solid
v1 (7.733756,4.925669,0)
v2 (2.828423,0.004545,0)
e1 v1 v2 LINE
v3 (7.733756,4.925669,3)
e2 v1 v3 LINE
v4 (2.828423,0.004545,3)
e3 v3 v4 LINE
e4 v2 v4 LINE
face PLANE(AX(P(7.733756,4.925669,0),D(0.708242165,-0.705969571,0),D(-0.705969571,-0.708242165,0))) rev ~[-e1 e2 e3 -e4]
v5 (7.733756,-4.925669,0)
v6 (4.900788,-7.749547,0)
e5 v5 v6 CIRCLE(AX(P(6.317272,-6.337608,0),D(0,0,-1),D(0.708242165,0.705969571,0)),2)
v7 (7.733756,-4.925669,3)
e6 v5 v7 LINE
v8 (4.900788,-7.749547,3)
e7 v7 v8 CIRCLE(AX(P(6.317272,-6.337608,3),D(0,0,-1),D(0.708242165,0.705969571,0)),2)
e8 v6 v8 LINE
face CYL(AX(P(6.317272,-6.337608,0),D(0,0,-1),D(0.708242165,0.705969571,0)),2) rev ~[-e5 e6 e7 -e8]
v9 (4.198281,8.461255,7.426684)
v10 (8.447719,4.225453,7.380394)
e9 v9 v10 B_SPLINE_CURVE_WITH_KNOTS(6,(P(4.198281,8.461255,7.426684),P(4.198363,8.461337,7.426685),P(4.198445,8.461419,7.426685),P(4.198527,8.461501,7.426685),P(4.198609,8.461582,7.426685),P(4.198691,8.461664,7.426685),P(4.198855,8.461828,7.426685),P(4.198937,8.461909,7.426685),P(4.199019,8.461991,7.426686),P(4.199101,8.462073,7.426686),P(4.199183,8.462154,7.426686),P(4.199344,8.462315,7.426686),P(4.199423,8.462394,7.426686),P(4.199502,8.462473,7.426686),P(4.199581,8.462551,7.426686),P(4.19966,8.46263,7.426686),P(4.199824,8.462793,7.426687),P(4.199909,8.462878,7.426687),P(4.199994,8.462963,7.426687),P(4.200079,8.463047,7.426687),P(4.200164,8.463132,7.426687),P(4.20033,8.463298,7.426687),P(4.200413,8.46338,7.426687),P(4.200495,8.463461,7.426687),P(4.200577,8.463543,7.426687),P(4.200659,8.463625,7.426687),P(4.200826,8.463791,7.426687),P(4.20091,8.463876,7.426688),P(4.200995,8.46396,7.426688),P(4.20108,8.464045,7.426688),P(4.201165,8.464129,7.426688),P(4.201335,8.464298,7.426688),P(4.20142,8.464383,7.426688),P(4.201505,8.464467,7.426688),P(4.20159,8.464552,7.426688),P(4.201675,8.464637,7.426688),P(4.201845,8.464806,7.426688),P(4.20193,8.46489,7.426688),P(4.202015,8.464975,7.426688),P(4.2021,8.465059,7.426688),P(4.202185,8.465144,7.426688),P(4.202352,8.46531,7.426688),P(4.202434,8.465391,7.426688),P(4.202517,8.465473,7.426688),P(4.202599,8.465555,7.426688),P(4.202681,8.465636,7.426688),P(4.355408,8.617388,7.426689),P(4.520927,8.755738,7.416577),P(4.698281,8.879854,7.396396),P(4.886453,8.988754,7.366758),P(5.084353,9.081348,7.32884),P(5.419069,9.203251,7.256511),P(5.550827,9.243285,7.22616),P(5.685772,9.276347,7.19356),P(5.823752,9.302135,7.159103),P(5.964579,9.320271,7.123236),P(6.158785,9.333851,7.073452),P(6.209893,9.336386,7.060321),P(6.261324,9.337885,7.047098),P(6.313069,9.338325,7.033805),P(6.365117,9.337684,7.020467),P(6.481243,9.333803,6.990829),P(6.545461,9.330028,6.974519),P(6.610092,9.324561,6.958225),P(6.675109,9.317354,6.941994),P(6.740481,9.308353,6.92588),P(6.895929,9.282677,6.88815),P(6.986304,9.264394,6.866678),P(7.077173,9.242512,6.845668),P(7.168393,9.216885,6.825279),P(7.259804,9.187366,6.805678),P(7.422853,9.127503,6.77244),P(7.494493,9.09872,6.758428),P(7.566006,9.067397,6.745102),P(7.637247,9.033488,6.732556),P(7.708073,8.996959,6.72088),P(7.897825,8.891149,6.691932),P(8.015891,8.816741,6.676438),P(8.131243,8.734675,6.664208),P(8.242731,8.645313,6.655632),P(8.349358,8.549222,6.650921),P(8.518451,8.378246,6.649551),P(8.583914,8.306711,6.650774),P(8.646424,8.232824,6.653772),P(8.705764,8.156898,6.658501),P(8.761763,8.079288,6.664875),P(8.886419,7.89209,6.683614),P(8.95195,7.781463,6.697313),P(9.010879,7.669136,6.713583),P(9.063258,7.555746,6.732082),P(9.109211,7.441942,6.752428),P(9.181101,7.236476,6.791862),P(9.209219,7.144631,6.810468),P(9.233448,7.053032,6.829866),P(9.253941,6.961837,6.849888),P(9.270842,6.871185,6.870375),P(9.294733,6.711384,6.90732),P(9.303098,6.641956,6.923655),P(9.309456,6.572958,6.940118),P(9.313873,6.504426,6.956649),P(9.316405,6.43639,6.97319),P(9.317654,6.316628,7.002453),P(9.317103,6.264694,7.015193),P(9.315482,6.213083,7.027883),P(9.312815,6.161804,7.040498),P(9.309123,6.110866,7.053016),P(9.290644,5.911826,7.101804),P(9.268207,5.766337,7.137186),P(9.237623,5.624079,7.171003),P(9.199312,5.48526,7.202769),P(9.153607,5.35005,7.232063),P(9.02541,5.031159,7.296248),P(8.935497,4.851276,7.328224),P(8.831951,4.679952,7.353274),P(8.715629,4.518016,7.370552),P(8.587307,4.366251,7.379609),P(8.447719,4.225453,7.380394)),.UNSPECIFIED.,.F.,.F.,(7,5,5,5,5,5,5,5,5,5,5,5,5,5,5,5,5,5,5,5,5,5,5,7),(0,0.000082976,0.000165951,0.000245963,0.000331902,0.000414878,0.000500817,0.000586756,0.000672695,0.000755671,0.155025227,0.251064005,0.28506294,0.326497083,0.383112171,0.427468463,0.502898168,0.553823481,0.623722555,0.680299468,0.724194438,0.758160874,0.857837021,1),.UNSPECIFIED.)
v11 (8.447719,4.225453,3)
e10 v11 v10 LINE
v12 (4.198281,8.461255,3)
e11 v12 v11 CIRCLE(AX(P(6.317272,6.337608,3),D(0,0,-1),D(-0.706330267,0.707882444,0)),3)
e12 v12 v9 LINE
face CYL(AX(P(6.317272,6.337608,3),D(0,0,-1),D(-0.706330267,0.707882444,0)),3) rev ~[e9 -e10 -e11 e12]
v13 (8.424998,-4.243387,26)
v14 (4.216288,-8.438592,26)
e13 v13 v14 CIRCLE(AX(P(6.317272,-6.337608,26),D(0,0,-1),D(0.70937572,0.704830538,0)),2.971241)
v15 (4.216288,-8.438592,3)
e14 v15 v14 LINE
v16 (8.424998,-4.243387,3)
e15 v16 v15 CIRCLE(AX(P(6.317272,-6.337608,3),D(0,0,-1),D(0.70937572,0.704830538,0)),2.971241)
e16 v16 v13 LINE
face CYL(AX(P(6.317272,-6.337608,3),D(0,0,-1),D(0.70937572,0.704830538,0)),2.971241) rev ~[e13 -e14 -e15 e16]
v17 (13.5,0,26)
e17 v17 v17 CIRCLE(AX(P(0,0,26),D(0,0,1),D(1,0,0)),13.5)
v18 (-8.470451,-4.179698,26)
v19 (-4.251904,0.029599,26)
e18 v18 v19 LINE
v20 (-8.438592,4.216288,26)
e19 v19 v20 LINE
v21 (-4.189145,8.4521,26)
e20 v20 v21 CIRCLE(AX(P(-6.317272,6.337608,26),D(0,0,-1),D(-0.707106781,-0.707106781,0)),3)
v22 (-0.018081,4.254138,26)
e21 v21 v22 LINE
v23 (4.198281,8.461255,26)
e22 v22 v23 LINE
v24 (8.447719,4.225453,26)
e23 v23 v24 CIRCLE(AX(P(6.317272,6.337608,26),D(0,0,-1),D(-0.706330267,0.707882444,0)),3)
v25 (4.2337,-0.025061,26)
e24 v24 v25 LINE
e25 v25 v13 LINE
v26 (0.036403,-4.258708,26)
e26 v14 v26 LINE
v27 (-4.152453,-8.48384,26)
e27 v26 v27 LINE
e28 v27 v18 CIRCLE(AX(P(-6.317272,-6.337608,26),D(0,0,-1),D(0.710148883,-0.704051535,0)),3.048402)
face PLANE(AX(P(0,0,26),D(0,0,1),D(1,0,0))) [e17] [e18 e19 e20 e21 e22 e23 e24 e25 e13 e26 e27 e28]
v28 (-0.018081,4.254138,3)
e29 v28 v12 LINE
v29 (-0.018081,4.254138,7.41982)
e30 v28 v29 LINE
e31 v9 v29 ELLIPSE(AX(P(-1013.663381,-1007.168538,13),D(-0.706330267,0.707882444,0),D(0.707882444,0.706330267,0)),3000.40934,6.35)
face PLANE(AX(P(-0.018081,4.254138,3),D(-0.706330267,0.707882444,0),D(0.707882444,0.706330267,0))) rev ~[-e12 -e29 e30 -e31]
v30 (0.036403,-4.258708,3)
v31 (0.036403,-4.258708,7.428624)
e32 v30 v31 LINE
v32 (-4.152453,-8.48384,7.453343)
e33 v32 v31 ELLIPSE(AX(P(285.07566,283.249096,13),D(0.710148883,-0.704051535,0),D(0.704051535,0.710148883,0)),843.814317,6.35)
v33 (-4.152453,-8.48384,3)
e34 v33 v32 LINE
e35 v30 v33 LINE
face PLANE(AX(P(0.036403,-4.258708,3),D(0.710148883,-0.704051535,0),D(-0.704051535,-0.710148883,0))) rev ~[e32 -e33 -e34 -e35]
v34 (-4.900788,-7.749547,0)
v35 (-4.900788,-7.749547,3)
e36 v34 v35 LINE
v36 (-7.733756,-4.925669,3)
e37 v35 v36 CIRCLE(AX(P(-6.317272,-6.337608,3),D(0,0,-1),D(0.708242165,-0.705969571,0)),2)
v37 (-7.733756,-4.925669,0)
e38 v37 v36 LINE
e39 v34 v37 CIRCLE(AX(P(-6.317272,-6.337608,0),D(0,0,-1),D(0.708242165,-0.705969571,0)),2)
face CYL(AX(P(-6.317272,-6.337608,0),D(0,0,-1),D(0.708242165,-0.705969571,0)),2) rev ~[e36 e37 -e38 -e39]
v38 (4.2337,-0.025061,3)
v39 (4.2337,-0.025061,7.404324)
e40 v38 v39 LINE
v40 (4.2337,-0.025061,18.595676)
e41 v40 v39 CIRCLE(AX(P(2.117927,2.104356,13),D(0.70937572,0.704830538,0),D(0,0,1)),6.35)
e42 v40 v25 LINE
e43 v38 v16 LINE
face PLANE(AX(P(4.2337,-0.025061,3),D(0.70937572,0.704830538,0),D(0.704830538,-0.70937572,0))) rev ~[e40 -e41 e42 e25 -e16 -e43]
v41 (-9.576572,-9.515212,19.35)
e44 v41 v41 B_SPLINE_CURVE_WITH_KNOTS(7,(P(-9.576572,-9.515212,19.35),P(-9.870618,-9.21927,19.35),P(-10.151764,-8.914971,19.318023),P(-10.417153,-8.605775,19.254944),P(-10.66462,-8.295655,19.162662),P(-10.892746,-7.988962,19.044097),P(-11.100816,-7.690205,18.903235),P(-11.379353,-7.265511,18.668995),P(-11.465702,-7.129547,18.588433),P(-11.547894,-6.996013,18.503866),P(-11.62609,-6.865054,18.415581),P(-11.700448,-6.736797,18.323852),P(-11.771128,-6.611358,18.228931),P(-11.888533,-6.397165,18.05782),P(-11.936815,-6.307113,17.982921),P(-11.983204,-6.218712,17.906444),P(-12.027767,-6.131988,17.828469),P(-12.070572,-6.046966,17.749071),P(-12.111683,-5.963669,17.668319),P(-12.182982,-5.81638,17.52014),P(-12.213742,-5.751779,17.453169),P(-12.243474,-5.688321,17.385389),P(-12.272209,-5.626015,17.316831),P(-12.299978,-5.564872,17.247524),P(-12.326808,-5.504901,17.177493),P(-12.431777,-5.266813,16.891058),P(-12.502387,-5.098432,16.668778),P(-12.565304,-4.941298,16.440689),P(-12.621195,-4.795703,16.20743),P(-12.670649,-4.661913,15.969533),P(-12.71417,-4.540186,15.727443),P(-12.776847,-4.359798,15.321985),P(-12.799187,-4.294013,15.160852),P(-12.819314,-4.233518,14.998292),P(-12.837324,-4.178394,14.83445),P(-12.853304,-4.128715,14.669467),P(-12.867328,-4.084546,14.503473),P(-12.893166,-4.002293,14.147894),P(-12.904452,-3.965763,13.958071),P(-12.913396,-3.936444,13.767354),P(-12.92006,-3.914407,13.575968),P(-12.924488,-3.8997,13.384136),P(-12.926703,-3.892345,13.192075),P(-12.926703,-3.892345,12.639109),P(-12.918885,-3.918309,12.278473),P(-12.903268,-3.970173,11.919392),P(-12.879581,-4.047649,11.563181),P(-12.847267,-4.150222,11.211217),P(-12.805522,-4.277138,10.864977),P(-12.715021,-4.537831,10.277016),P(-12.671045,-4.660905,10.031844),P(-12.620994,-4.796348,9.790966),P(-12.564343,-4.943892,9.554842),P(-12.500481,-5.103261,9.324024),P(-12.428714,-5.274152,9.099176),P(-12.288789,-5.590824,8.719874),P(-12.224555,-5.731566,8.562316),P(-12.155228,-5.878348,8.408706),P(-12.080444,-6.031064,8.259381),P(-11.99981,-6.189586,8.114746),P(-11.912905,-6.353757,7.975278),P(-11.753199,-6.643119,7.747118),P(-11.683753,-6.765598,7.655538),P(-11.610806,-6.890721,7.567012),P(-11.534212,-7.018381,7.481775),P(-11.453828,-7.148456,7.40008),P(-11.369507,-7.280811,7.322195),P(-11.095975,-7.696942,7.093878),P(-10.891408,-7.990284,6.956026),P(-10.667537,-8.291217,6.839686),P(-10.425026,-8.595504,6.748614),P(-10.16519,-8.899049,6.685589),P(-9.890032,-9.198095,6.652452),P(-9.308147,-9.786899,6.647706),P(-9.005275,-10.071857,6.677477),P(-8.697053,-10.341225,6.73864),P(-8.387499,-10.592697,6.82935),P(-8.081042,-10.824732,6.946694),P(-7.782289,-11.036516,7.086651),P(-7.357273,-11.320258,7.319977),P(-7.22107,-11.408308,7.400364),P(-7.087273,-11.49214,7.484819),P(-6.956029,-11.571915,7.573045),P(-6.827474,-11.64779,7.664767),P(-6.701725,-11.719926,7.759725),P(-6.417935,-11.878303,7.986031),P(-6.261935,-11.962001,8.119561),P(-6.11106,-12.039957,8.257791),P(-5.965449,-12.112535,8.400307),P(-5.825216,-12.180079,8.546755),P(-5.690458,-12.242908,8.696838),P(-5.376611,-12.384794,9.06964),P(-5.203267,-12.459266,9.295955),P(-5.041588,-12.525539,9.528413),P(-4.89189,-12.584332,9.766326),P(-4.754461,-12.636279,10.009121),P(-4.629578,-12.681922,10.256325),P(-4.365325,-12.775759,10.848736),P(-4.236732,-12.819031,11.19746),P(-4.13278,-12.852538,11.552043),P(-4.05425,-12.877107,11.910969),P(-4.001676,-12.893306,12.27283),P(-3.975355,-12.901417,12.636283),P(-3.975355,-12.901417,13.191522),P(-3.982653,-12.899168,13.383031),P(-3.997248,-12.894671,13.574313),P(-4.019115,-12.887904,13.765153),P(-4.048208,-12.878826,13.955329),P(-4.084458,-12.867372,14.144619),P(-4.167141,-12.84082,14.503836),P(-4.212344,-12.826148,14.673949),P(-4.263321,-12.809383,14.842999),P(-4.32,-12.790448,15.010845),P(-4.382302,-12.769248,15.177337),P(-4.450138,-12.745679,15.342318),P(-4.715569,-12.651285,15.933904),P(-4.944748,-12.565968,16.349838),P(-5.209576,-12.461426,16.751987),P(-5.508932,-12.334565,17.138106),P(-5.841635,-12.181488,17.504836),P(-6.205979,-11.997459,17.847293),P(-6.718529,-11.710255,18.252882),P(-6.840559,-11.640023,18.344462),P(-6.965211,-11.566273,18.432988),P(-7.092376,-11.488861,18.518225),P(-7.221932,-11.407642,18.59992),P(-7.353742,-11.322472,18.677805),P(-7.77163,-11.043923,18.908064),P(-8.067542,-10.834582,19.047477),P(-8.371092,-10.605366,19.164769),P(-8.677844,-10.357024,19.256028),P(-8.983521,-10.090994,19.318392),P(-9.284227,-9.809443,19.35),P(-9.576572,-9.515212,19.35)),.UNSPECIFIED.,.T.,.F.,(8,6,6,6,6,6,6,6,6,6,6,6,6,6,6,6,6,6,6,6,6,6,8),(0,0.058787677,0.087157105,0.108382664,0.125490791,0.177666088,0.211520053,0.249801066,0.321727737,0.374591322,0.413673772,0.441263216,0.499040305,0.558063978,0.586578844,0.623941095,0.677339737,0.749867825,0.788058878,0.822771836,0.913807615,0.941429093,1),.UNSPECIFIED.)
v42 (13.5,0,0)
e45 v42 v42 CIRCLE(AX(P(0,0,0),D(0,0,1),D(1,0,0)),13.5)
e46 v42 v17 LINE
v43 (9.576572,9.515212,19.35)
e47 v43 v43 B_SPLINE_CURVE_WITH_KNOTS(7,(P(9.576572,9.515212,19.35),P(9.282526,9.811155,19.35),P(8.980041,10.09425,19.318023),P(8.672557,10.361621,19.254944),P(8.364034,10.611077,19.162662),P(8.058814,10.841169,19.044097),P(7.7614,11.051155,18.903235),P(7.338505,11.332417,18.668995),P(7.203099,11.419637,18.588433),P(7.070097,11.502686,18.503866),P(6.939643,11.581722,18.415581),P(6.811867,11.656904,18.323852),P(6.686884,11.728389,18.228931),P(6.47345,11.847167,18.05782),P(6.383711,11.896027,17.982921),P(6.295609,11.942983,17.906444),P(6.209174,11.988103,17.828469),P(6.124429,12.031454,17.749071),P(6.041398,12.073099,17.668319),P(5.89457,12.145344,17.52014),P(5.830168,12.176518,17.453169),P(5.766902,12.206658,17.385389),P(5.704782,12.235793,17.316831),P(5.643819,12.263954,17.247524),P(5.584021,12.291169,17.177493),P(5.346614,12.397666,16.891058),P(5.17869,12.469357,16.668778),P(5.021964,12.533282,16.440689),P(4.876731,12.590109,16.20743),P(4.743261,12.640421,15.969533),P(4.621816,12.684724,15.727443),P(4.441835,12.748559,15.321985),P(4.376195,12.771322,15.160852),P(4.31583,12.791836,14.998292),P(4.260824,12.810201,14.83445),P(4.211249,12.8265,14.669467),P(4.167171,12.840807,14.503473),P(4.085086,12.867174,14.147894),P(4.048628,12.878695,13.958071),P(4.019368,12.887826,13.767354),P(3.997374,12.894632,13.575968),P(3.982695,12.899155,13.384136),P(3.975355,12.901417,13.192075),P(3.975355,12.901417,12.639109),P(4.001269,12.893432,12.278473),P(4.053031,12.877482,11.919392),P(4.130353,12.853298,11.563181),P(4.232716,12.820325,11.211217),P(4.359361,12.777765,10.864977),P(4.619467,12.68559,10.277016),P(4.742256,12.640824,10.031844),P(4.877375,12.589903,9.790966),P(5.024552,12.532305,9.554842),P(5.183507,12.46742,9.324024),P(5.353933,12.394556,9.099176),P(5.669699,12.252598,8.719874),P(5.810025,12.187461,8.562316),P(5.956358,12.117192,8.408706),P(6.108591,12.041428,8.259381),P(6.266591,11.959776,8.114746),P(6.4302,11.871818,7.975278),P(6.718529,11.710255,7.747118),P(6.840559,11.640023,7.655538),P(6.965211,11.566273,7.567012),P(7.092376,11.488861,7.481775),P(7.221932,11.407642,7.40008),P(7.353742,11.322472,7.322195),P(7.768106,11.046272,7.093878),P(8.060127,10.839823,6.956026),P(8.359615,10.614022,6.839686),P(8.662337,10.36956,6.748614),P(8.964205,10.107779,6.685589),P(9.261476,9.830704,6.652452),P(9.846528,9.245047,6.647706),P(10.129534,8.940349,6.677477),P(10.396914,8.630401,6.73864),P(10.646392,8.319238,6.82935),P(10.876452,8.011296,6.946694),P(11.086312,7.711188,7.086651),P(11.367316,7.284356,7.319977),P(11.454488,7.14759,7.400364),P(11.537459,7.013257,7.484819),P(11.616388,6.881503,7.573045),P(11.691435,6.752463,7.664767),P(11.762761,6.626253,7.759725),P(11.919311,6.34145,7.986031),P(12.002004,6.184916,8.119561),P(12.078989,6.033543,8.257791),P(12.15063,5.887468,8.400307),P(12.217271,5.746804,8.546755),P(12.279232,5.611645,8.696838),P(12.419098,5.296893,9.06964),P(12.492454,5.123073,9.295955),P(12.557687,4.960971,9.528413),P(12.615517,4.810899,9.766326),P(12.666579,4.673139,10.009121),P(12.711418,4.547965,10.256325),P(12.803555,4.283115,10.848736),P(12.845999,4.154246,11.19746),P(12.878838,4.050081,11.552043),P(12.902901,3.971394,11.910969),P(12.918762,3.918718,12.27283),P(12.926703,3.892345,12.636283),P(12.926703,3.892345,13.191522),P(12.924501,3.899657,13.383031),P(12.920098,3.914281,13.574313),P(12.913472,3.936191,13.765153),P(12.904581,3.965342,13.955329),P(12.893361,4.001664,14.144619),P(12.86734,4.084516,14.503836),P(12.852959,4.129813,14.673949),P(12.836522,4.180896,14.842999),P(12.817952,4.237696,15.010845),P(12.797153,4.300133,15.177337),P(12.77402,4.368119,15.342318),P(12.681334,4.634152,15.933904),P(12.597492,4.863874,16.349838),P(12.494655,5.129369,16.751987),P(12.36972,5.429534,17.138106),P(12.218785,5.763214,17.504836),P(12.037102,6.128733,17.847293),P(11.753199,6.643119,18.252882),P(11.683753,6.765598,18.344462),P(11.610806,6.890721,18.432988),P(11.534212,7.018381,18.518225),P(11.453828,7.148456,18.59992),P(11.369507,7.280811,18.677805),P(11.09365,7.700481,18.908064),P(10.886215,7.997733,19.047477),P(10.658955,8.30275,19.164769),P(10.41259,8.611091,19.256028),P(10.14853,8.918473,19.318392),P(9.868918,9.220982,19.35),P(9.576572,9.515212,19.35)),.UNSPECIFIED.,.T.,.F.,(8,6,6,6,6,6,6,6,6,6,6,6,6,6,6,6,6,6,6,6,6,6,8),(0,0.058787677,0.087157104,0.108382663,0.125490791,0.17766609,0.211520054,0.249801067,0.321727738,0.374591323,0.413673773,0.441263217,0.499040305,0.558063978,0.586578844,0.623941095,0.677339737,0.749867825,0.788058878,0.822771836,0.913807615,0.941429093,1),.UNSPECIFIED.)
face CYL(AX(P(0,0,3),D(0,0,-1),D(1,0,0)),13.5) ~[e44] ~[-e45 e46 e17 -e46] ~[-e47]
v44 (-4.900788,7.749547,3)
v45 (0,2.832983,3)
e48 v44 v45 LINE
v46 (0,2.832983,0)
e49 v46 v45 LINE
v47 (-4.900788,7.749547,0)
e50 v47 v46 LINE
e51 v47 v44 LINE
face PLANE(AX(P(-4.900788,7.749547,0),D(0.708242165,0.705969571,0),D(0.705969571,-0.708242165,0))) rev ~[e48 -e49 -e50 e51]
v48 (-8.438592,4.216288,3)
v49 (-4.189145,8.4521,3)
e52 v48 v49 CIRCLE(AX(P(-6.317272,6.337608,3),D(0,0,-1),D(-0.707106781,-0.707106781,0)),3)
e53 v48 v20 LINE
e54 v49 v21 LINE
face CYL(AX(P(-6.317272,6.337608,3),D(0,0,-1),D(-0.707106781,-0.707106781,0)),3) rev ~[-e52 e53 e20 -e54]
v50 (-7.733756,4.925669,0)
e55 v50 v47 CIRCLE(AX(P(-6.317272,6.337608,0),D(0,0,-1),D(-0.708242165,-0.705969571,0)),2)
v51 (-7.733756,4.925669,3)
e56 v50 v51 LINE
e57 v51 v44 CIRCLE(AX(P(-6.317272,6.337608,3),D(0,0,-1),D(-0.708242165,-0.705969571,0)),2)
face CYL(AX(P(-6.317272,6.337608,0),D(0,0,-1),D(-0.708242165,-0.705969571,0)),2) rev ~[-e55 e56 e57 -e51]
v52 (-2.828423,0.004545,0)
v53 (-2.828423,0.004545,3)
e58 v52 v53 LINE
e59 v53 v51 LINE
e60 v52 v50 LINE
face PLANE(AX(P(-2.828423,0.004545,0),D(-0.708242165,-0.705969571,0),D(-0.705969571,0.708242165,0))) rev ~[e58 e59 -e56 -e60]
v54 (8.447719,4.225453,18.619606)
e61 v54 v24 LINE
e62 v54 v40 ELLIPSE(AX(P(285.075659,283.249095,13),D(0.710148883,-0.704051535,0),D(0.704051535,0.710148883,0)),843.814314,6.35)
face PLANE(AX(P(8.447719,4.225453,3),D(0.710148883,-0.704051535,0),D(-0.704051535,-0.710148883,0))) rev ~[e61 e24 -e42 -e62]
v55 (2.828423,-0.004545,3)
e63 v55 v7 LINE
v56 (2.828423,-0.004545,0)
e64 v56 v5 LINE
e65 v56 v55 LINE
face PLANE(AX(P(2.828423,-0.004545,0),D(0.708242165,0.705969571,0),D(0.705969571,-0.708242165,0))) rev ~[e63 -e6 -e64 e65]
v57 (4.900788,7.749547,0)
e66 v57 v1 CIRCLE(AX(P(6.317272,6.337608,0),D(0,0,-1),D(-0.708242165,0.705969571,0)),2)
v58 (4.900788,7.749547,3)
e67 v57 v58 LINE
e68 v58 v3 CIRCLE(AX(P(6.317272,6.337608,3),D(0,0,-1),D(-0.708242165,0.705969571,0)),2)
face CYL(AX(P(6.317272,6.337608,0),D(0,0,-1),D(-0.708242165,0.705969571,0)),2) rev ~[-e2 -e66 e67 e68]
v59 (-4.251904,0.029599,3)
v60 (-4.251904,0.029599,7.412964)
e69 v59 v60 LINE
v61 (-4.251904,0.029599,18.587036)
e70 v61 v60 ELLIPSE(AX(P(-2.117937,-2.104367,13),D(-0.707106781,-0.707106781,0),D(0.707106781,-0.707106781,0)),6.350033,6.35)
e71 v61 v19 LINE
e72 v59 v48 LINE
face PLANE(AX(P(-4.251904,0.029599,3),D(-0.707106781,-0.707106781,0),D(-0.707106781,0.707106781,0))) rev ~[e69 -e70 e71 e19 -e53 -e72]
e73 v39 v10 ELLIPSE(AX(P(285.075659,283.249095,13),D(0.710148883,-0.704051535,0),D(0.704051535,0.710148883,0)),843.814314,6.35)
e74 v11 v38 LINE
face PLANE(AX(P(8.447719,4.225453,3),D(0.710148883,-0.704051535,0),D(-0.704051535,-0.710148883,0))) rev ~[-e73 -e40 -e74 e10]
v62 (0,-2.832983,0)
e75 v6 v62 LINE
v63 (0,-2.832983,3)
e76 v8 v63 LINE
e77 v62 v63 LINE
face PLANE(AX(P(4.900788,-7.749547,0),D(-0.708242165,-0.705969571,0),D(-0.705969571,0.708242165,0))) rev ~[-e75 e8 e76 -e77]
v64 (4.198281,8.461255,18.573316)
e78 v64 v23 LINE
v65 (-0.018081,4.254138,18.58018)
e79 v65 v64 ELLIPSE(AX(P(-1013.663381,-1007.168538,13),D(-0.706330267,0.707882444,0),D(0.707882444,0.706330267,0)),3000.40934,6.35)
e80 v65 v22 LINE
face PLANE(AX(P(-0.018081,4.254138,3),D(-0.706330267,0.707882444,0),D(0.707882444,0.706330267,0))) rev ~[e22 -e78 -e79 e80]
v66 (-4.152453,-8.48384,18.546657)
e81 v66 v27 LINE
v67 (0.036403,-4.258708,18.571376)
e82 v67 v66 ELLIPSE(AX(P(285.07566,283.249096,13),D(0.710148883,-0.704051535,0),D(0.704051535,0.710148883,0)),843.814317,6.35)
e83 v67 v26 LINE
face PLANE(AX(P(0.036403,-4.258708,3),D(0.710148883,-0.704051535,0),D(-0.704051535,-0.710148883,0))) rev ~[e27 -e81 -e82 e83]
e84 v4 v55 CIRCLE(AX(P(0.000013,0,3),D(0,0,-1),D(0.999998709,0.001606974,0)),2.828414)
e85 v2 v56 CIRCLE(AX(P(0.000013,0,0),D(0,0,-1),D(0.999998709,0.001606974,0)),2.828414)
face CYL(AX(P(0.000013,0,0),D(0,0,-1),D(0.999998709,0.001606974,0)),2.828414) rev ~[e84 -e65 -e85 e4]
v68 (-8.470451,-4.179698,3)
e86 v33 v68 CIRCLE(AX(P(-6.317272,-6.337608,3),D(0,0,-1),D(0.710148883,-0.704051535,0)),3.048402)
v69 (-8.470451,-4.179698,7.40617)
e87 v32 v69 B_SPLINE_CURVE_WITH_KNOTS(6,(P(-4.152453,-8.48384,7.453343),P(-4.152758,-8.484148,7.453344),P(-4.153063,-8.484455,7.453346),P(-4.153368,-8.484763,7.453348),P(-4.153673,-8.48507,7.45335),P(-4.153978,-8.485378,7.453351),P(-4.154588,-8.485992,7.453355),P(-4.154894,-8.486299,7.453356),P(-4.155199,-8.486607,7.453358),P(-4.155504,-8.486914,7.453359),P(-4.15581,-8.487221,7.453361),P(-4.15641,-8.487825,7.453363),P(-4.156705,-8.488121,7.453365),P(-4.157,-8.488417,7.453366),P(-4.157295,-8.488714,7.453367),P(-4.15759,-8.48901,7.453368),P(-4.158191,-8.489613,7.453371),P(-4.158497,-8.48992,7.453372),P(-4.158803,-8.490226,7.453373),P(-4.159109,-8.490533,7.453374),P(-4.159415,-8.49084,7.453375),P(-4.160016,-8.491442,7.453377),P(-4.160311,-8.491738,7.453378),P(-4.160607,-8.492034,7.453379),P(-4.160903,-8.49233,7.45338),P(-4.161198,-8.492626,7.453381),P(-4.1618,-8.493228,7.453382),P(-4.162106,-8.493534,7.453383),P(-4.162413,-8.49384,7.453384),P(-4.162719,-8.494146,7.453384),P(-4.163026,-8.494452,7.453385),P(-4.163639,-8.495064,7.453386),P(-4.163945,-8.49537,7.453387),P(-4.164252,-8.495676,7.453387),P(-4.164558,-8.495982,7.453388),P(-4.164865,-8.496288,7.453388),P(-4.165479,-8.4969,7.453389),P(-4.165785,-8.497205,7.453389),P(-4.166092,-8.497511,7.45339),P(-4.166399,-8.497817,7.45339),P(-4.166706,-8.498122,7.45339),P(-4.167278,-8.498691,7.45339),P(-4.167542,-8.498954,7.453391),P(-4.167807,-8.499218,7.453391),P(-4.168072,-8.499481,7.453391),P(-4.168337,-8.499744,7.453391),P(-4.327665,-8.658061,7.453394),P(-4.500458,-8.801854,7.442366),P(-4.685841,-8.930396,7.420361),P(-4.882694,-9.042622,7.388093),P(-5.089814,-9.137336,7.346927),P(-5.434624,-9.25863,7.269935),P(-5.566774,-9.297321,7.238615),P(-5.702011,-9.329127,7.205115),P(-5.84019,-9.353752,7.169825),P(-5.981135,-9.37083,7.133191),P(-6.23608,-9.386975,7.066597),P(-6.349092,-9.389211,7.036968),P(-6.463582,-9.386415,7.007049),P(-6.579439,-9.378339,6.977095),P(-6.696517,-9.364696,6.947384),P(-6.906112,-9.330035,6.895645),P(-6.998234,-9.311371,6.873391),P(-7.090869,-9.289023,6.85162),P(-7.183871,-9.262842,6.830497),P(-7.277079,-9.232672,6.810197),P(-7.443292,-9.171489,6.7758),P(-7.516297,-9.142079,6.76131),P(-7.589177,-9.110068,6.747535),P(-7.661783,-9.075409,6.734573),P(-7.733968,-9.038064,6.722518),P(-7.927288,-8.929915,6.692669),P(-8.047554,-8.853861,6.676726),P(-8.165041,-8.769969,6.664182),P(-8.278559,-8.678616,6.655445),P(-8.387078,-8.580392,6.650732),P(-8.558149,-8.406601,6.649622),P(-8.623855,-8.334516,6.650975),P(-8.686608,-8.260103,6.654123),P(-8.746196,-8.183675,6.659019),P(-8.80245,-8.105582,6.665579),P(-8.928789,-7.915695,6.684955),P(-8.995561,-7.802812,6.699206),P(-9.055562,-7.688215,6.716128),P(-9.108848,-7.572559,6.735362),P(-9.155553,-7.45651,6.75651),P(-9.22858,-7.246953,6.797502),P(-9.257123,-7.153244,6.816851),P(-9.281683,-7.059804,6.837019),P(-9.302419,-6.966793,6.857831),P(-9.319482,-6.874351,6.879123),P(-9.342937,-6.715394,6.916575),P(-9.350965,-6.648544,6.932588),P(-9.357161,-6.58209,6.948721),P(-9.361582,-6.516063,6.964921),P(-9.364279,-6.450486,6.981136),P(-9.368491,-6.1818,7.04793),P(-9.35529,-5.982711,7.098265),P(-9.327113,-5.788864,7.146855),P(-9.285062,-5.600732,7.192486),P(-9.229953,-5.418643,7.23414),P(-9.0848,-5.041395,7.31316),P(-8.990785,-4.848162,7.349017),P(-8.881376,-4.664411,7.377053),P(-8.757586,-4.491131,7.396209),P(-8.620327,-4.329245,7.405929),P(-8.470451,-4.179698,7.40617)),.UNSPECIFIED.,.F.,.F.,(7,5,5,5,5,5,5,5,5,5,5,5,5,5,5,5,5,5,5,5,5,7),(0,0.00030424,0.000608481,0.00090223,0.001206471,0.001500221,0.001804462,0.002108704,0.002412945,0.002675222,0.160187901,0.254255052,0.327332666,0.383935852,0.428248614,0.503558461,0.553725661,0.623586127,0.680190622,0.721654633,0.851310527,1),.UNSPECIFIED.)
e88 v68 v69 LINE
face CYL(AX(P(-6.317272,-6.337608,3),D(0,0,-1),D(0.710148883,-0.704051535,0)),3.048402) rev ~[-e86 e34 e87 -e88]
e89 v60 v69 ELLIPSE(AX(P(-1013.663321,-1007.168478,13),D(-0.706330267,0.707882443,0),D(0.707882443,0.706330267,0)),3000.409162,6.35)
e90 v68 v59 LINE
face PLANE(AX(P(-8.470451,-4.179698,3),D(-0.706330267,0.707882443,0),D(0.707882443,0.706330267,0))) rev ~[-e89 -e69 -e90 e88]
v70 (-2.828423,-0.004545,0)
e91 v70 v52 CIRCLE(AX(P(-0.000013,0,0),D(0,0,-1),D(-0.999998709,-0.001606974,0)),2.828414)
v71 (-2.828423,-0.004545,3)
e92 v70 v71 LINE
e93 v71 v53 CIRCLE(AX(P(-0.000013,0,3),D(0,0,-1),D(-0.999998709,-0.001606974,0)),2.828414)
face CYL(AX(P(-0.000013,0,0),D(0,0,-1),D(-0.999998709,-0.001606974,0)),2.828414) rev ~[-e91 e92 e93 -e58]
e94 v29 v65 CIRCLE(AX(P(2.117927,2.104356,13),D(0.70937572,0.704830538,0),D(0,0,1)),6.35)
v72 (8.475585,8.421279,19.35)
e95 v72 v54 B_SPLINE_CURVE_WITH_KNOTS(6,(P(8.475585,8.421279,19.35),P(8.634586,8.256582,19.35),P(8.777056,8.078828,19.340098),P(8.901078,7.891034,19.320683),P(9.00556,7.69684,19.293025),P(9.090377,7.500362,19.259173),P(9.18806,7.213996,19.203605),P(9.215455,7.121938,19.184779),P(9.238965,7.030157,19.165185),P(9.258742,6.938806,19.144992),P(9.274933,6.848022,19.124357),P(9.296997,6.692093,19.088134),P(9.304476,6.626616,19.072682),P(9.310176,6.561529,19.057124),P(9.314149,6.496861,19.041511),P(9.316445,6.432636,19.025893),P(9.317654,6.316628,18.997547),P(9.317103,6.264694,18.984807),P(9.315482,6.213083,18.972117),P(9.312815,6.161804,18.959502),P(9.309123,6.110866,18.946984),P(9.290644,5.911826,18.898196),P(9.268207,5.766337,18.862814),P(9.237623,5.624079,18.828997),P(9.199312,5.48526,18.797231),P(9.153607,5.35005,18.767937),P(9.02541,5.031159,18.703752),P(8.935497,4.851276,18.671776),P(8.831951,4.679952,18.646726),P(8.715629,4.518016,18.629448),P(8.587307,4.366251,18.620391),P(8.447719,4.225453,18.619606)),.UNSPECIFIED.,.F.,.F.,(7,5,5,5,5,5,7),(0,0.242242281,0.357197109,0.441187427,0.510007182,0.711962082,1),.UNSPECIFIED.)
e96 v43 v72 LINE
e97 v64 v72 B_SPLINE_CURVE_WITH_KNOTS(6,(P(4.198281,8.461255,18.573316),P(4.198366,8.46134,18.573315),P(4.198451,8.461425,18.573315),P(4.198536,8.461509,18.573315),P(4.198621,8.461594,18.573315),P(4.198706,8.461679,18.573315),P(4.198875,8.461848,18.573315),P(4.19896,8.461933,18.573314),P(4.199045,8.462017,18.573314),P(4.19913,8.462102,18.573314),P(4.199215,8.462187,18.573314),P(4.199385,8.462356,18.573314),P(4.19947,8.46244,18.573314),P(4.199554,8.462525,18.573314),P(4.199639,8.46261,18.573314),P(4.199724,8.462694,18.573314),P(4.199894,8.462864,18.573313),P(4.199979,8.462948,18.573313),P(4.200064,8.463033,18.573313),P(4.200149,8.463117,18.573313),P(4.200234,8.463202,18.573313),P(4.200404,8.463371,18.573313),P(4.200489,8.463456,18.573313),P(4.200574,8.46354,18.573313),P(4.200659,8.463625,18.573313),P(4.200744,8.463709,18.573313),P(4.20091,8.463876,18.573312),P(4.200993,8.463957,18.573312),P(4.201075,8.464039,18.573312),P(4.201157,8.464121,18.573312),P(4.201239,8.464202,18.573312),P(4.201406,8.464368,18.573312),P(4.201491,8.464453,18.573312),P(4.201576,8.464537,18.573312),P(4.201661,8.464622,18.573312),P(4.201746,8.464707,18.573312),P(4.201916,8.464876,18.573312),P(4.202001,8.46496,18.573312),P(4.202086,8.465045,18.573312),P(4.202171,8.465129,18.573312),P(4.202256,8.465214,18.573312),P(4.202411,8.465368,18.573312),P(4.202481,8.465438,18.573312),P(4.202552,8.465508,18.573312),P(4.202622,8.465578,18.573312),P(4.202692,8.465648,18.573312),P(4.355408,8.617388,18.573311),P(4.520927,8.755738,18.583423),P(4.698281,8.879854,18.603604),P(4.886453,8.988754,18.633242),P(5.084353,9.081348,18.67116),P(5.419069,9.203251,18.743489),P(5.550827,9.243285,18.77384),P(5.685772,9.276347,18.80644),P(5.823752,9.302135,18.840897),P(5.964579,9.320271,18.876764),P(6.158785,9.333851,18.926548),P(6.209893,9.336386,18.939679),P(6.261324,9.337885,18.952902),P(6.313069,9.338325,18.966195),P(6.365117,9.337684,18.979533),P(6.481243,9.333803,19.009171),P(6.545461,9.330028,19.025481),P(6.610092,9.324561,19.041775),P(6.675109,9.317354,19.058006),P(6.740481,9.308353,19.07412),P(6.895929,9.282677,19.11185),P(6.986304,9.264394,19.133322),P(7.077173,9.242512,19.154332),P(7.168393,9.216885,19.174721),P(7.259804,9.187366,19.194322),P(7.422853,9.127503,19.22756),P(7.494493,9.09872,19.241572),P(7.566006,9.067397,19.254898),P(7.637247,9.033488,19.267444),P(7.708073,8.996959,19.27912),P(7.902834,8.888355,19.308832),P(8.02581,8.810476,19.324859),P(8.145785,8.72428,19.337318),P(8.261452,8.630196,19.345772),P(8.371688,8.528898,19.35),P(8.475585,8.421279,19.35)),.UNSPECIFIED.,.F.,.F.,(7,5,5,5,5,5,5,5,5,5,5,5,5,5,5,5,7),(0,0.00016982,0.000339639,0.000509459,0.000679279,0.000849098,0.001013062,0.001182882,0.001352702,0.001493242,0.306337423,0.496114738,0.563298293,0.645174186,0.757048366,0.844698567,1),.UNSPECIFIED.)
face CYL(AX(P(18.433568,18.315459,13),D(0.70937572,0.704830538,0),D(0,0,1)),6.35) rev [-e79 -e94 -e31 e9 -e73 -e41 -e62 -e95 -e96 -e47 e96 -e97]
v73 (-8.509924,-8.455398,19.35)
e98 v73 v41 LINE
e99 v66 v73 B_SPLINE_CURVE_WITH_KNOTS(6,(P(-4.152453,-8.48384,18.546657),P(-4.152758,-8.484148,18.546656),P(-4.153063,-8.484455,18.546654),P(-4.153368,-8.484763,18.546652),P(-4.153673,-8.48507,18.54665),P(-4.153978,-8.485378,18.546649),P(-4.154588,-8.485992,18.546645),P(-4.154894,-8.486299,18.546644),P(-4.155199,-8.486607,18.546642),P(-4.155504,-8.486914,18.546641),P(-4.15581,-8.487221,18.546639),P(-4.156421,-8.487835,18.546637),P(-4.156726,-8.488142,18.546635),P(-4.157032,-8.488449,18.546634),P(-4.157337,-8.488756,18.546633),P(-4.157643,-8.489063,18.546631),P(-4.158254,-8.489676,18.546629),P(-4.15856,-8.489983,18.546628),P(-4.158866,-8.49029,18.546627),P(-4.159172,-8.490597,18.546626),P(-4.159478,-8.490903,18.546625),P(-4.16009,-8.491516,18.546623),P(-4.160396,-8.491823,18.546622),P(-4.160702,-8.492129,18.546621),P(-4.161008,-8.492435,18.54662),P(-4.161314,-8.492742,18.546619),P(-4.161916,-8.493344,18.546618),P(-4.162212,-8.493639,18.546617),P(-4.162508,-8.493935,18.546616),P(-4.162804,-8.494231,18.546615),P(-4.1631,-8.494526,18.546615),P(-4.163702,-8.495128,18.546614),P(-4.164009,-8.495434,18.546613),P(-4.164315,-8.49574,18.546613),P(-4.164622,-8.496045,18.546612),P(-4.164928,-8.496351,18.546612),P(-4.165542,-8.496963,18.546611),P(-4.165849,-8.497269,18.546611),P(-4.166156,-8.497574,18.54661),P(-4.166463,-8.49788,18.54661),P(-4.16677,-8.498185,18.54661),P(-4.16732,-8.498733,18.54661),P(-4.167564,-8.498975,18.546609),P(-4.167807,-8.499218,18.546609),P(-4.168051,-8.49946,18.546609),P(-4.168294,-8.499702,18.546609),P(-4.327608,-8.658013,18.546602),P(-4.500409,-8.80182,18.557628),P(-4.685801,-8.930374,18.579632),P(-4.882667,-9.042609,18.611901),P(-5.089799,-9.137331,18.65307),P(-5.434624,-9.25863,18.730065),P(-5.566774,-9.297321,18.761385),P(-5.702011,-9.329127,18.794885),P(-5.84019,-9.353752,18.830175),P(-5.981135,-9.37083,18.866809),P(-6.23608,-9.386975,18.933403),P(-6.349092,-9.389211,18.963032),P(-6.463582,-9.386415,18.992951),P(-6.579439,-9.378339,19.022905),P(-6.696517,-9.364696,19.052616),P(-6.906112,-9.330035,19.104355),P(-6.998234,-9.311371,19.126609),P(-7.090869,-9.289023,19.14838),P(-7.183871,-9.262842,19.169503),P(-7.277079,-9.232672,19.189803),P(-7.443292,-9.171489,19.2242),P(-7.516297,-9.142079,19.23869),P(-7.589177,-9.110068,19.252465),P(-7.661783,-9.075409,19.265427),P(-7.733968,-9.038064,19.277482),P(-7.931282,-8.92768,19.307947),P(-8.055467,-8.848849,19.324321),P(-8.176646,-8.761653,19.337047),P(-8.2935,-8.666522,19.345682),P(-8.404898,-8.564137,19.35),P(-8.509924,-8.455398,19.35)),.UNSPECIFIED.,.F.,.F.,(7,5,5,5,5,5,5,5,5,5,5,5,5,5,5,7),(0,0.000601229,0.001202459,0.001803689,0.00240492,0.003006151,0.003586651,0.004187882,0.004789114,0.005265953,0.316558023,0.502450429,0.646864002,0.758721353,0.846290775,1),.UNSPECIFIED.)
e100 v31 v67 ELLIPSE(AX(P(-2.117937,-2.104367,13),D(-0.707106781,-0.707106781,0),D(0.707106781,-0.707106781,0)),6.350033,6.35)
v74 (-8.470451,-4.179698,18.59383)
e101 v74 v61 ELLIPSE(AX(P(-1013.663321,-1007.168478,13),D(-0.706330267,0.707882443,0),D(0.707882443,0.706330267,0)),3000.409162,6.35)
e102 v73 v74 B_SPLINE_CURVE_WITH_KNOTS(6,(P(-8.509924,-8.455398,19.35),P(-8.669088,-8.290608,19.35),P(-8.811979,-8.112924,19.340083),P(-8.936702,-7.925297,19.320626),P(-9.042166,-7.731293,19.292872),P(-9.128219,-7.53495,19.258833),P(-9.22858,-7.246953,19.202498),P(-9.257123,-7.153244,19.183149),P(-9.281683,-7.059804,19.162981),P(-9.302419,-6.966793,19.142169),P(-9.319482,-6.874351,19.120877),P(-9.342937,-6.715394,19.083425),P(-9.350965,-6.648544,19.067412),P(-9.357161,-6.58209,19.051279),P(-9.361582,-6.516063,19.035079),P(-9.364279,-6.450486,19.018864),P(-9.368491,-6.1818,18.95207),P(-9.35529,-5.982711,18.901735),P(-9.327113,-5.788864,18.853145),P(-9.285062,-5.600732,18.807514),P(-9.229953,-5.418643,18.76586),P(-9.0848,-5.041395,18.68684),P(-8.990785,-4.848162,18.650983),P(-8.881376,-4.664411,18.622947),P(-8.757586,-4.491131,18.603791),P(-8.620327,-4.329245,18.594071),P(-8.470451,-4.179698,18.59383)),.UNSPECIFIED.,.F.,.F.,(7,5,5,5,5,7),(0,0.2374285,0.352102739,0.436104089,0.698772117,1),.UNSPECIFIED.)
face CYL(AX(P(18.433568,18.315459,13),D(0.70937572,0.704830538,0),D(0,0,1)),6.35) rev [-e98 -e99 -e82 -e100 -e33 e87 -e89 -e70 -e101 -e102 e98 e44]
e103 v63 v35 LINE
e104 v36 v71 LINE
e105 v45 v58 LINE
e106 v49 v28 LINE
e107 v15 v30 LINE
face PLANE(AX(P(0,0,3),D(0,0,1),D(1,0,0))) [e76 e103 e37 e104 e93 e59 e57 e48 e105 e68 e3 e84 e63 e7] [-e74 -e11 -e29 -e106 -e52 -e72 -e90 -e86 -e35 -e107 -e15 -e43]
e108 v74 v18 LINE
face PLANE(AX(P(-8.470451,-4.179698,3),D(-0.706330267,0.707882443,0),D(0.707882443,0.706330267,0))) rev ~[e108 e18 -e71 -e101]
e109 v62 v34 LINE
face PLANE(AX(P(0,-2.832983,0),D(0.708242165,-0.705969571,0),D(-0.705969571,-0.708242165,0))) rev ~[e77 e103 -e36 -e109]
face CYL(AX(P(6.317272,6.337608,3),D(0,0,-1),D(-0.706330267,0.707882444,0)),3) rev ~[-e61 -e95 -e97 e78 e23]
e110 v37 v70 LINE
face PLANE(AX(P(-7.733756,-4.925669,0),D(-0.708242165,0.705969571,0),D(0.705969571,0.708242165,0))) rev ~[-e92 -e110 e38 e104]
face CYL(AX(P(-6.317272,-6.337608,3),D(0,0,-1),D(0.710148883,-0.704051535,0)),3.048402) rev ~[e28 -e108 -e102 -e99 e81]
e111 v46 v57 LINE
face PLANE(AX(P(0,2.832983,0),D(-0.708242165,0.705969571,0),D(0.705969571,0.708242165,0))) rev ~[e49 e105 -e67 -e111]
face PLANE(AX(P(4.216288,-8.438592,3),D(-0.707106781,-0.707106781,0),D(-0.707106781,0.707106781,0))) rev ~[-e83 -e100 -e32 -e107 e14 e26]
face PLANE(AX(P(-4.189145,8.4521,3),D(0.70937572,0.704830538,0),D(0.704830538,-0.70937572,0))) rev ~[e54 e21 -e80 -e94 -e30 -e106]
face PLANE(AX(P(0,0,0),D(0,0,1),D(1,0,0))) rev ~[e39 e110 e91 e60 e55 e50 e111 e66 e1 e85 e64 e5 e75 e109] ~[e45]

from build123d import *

# Parameters (mm, degrees)
SKETCH_1_R               = 13.5
EXTRUDE_1_DEPTH          = 3
SKETCH_2_R               = 13.5
EXTRUDE_3_DEPTH          = 23
CUT_EXTRUDE_1_DEPTH      = 23
CUT_EXTRUDE_1_DEPTH_BACK = 23
SKETCH_4_R               = 6.35


with BuildPart() as part:
    # 草图1 → 凸台-拉伸1 (new body)
    with BuildSketch(Plane.XY):
        Circle(SKETCH_1_R)
        with BuildLine():
            Line((0, -2.832983292), (-4.900787729, -7.749547196))
            ThreePointArc((-4.900787729, -7.749547196), (-7.729211202, -7.754092383), (-7.733756389, -4.92566891))
            Line((-7.733756389, -4.92566891), (-2.828423473, -0.004545187))
            ThreePointArc((-2.828423473, -0.004545187), (-2.828427125, 0), (-2.828423473, 0.004545187))
            Line((-2.828423473, 0.004545187), (-7.733756389, 4.92566891))
            ThreePointArc((-7.733756389, 4.92566891), (-7.729211202, 7.754092383), (-4.900787729, 7.749547196))
            Line((-4.900787729, 7.749547196), (0, 2.832983292))
            Line((0, 2.832983292), (4.900787729, 7.749547196))
            ThreePointArc((4.900787729, 7.749547196), (7.729211202, 7.754092383), (7.733756389, 4.92566891))
            Line((7.733756389, 4.92566891), (2.828423473, 0.004545187))
            ThreePointArc((2.828423473, 0.004545187), (2.828427125, 0), (2.828423473, -0.004545187))
            Line((2.828423473, -0.004545187), (7.733756389, -4.92566891))
            ThreePointArc((7.733756389, -4.92566891), (7.729211202, -7.754092383), (4.900787729, -7.749547196))
            Line((4.900787729, -7.749547196), (0, -2.832983292))
        make_face(mode=Mode.SUBTRACT)
    extrude(amount=EXTRUDE_1_DEPTH)

    # 草图2 → 凸台-拉伸3 (add)
    with BuildSketch(Plane.XY.offset(3)):
        Circle(SKETCH_2_R)
        with BuildLine():
            ThreePointArc((-8.438592403, 4.216287709), (-8.435180773, 8.462334548), (-4.189144899, 8.452099668))
            Line((-4.189144899, 8.452099668), (-0.01808109, 4.25413827))
            Line((-0.01808109, 4.25413827), (4.198281258, 8.461255384))
            ThreePointArc((4.198281258, 8.461255384), (8.435180773, 8.462334548), (8.447718707, 4.225453447))
            Line((8.447718707, 4.225453447), (4.233699653, -0.025060575))
            Line((4.233699653, -0.025060575), (8.424997972, -4.243386968))
            ThreePointArc((8.424997972, -4.243386968), (8.414877485, -8.441965901), (4.216287709, -8.438592403))
            Line((4.216287709, -8.438592403), (0.036402841, -4.258707534))
            Line((0.036402841, -4.258707534), (-4.152452764, -8.483840182))
            ThreePointArc((-4.152452764, -8.483840182), (-8.469351133, -8.496614906), (-8.470450678, -4.179697776))
            Line((-8.470450678, -4.179697776), (-4.251903786, 0.029599093))
            Line((-4.251903786, 0.029599093), (-8.438592403, 4.216287709))
        make_face(mode=Mode.SUBTRACT)
    extrude(amount=EXTRUDE_3_DEPTH)

    # 草图4 → 切除-拉伸1 (cut, two sides: drawn at the far end of the back side and taken through both)
    with BuildSketch(Plane(origin=(2.117926536, 2.10435635, 0), x_dir=(0, 0, 1), z_dir=(-0.7093757200092603, -0.7048305384000778, 0)).offset(-CUT_EXTRUDE_1_DEPTH_BACK)):
        with Locations((13, 0)):
            Circle(SKETCH_4_R)
    extrude(amount=CUT_EXTRUDE_1_DEPTH + CUT_EXTRUDE_1_DEPTH_BACK, mode=Mode.SUBTRACT)


solid = part.part
